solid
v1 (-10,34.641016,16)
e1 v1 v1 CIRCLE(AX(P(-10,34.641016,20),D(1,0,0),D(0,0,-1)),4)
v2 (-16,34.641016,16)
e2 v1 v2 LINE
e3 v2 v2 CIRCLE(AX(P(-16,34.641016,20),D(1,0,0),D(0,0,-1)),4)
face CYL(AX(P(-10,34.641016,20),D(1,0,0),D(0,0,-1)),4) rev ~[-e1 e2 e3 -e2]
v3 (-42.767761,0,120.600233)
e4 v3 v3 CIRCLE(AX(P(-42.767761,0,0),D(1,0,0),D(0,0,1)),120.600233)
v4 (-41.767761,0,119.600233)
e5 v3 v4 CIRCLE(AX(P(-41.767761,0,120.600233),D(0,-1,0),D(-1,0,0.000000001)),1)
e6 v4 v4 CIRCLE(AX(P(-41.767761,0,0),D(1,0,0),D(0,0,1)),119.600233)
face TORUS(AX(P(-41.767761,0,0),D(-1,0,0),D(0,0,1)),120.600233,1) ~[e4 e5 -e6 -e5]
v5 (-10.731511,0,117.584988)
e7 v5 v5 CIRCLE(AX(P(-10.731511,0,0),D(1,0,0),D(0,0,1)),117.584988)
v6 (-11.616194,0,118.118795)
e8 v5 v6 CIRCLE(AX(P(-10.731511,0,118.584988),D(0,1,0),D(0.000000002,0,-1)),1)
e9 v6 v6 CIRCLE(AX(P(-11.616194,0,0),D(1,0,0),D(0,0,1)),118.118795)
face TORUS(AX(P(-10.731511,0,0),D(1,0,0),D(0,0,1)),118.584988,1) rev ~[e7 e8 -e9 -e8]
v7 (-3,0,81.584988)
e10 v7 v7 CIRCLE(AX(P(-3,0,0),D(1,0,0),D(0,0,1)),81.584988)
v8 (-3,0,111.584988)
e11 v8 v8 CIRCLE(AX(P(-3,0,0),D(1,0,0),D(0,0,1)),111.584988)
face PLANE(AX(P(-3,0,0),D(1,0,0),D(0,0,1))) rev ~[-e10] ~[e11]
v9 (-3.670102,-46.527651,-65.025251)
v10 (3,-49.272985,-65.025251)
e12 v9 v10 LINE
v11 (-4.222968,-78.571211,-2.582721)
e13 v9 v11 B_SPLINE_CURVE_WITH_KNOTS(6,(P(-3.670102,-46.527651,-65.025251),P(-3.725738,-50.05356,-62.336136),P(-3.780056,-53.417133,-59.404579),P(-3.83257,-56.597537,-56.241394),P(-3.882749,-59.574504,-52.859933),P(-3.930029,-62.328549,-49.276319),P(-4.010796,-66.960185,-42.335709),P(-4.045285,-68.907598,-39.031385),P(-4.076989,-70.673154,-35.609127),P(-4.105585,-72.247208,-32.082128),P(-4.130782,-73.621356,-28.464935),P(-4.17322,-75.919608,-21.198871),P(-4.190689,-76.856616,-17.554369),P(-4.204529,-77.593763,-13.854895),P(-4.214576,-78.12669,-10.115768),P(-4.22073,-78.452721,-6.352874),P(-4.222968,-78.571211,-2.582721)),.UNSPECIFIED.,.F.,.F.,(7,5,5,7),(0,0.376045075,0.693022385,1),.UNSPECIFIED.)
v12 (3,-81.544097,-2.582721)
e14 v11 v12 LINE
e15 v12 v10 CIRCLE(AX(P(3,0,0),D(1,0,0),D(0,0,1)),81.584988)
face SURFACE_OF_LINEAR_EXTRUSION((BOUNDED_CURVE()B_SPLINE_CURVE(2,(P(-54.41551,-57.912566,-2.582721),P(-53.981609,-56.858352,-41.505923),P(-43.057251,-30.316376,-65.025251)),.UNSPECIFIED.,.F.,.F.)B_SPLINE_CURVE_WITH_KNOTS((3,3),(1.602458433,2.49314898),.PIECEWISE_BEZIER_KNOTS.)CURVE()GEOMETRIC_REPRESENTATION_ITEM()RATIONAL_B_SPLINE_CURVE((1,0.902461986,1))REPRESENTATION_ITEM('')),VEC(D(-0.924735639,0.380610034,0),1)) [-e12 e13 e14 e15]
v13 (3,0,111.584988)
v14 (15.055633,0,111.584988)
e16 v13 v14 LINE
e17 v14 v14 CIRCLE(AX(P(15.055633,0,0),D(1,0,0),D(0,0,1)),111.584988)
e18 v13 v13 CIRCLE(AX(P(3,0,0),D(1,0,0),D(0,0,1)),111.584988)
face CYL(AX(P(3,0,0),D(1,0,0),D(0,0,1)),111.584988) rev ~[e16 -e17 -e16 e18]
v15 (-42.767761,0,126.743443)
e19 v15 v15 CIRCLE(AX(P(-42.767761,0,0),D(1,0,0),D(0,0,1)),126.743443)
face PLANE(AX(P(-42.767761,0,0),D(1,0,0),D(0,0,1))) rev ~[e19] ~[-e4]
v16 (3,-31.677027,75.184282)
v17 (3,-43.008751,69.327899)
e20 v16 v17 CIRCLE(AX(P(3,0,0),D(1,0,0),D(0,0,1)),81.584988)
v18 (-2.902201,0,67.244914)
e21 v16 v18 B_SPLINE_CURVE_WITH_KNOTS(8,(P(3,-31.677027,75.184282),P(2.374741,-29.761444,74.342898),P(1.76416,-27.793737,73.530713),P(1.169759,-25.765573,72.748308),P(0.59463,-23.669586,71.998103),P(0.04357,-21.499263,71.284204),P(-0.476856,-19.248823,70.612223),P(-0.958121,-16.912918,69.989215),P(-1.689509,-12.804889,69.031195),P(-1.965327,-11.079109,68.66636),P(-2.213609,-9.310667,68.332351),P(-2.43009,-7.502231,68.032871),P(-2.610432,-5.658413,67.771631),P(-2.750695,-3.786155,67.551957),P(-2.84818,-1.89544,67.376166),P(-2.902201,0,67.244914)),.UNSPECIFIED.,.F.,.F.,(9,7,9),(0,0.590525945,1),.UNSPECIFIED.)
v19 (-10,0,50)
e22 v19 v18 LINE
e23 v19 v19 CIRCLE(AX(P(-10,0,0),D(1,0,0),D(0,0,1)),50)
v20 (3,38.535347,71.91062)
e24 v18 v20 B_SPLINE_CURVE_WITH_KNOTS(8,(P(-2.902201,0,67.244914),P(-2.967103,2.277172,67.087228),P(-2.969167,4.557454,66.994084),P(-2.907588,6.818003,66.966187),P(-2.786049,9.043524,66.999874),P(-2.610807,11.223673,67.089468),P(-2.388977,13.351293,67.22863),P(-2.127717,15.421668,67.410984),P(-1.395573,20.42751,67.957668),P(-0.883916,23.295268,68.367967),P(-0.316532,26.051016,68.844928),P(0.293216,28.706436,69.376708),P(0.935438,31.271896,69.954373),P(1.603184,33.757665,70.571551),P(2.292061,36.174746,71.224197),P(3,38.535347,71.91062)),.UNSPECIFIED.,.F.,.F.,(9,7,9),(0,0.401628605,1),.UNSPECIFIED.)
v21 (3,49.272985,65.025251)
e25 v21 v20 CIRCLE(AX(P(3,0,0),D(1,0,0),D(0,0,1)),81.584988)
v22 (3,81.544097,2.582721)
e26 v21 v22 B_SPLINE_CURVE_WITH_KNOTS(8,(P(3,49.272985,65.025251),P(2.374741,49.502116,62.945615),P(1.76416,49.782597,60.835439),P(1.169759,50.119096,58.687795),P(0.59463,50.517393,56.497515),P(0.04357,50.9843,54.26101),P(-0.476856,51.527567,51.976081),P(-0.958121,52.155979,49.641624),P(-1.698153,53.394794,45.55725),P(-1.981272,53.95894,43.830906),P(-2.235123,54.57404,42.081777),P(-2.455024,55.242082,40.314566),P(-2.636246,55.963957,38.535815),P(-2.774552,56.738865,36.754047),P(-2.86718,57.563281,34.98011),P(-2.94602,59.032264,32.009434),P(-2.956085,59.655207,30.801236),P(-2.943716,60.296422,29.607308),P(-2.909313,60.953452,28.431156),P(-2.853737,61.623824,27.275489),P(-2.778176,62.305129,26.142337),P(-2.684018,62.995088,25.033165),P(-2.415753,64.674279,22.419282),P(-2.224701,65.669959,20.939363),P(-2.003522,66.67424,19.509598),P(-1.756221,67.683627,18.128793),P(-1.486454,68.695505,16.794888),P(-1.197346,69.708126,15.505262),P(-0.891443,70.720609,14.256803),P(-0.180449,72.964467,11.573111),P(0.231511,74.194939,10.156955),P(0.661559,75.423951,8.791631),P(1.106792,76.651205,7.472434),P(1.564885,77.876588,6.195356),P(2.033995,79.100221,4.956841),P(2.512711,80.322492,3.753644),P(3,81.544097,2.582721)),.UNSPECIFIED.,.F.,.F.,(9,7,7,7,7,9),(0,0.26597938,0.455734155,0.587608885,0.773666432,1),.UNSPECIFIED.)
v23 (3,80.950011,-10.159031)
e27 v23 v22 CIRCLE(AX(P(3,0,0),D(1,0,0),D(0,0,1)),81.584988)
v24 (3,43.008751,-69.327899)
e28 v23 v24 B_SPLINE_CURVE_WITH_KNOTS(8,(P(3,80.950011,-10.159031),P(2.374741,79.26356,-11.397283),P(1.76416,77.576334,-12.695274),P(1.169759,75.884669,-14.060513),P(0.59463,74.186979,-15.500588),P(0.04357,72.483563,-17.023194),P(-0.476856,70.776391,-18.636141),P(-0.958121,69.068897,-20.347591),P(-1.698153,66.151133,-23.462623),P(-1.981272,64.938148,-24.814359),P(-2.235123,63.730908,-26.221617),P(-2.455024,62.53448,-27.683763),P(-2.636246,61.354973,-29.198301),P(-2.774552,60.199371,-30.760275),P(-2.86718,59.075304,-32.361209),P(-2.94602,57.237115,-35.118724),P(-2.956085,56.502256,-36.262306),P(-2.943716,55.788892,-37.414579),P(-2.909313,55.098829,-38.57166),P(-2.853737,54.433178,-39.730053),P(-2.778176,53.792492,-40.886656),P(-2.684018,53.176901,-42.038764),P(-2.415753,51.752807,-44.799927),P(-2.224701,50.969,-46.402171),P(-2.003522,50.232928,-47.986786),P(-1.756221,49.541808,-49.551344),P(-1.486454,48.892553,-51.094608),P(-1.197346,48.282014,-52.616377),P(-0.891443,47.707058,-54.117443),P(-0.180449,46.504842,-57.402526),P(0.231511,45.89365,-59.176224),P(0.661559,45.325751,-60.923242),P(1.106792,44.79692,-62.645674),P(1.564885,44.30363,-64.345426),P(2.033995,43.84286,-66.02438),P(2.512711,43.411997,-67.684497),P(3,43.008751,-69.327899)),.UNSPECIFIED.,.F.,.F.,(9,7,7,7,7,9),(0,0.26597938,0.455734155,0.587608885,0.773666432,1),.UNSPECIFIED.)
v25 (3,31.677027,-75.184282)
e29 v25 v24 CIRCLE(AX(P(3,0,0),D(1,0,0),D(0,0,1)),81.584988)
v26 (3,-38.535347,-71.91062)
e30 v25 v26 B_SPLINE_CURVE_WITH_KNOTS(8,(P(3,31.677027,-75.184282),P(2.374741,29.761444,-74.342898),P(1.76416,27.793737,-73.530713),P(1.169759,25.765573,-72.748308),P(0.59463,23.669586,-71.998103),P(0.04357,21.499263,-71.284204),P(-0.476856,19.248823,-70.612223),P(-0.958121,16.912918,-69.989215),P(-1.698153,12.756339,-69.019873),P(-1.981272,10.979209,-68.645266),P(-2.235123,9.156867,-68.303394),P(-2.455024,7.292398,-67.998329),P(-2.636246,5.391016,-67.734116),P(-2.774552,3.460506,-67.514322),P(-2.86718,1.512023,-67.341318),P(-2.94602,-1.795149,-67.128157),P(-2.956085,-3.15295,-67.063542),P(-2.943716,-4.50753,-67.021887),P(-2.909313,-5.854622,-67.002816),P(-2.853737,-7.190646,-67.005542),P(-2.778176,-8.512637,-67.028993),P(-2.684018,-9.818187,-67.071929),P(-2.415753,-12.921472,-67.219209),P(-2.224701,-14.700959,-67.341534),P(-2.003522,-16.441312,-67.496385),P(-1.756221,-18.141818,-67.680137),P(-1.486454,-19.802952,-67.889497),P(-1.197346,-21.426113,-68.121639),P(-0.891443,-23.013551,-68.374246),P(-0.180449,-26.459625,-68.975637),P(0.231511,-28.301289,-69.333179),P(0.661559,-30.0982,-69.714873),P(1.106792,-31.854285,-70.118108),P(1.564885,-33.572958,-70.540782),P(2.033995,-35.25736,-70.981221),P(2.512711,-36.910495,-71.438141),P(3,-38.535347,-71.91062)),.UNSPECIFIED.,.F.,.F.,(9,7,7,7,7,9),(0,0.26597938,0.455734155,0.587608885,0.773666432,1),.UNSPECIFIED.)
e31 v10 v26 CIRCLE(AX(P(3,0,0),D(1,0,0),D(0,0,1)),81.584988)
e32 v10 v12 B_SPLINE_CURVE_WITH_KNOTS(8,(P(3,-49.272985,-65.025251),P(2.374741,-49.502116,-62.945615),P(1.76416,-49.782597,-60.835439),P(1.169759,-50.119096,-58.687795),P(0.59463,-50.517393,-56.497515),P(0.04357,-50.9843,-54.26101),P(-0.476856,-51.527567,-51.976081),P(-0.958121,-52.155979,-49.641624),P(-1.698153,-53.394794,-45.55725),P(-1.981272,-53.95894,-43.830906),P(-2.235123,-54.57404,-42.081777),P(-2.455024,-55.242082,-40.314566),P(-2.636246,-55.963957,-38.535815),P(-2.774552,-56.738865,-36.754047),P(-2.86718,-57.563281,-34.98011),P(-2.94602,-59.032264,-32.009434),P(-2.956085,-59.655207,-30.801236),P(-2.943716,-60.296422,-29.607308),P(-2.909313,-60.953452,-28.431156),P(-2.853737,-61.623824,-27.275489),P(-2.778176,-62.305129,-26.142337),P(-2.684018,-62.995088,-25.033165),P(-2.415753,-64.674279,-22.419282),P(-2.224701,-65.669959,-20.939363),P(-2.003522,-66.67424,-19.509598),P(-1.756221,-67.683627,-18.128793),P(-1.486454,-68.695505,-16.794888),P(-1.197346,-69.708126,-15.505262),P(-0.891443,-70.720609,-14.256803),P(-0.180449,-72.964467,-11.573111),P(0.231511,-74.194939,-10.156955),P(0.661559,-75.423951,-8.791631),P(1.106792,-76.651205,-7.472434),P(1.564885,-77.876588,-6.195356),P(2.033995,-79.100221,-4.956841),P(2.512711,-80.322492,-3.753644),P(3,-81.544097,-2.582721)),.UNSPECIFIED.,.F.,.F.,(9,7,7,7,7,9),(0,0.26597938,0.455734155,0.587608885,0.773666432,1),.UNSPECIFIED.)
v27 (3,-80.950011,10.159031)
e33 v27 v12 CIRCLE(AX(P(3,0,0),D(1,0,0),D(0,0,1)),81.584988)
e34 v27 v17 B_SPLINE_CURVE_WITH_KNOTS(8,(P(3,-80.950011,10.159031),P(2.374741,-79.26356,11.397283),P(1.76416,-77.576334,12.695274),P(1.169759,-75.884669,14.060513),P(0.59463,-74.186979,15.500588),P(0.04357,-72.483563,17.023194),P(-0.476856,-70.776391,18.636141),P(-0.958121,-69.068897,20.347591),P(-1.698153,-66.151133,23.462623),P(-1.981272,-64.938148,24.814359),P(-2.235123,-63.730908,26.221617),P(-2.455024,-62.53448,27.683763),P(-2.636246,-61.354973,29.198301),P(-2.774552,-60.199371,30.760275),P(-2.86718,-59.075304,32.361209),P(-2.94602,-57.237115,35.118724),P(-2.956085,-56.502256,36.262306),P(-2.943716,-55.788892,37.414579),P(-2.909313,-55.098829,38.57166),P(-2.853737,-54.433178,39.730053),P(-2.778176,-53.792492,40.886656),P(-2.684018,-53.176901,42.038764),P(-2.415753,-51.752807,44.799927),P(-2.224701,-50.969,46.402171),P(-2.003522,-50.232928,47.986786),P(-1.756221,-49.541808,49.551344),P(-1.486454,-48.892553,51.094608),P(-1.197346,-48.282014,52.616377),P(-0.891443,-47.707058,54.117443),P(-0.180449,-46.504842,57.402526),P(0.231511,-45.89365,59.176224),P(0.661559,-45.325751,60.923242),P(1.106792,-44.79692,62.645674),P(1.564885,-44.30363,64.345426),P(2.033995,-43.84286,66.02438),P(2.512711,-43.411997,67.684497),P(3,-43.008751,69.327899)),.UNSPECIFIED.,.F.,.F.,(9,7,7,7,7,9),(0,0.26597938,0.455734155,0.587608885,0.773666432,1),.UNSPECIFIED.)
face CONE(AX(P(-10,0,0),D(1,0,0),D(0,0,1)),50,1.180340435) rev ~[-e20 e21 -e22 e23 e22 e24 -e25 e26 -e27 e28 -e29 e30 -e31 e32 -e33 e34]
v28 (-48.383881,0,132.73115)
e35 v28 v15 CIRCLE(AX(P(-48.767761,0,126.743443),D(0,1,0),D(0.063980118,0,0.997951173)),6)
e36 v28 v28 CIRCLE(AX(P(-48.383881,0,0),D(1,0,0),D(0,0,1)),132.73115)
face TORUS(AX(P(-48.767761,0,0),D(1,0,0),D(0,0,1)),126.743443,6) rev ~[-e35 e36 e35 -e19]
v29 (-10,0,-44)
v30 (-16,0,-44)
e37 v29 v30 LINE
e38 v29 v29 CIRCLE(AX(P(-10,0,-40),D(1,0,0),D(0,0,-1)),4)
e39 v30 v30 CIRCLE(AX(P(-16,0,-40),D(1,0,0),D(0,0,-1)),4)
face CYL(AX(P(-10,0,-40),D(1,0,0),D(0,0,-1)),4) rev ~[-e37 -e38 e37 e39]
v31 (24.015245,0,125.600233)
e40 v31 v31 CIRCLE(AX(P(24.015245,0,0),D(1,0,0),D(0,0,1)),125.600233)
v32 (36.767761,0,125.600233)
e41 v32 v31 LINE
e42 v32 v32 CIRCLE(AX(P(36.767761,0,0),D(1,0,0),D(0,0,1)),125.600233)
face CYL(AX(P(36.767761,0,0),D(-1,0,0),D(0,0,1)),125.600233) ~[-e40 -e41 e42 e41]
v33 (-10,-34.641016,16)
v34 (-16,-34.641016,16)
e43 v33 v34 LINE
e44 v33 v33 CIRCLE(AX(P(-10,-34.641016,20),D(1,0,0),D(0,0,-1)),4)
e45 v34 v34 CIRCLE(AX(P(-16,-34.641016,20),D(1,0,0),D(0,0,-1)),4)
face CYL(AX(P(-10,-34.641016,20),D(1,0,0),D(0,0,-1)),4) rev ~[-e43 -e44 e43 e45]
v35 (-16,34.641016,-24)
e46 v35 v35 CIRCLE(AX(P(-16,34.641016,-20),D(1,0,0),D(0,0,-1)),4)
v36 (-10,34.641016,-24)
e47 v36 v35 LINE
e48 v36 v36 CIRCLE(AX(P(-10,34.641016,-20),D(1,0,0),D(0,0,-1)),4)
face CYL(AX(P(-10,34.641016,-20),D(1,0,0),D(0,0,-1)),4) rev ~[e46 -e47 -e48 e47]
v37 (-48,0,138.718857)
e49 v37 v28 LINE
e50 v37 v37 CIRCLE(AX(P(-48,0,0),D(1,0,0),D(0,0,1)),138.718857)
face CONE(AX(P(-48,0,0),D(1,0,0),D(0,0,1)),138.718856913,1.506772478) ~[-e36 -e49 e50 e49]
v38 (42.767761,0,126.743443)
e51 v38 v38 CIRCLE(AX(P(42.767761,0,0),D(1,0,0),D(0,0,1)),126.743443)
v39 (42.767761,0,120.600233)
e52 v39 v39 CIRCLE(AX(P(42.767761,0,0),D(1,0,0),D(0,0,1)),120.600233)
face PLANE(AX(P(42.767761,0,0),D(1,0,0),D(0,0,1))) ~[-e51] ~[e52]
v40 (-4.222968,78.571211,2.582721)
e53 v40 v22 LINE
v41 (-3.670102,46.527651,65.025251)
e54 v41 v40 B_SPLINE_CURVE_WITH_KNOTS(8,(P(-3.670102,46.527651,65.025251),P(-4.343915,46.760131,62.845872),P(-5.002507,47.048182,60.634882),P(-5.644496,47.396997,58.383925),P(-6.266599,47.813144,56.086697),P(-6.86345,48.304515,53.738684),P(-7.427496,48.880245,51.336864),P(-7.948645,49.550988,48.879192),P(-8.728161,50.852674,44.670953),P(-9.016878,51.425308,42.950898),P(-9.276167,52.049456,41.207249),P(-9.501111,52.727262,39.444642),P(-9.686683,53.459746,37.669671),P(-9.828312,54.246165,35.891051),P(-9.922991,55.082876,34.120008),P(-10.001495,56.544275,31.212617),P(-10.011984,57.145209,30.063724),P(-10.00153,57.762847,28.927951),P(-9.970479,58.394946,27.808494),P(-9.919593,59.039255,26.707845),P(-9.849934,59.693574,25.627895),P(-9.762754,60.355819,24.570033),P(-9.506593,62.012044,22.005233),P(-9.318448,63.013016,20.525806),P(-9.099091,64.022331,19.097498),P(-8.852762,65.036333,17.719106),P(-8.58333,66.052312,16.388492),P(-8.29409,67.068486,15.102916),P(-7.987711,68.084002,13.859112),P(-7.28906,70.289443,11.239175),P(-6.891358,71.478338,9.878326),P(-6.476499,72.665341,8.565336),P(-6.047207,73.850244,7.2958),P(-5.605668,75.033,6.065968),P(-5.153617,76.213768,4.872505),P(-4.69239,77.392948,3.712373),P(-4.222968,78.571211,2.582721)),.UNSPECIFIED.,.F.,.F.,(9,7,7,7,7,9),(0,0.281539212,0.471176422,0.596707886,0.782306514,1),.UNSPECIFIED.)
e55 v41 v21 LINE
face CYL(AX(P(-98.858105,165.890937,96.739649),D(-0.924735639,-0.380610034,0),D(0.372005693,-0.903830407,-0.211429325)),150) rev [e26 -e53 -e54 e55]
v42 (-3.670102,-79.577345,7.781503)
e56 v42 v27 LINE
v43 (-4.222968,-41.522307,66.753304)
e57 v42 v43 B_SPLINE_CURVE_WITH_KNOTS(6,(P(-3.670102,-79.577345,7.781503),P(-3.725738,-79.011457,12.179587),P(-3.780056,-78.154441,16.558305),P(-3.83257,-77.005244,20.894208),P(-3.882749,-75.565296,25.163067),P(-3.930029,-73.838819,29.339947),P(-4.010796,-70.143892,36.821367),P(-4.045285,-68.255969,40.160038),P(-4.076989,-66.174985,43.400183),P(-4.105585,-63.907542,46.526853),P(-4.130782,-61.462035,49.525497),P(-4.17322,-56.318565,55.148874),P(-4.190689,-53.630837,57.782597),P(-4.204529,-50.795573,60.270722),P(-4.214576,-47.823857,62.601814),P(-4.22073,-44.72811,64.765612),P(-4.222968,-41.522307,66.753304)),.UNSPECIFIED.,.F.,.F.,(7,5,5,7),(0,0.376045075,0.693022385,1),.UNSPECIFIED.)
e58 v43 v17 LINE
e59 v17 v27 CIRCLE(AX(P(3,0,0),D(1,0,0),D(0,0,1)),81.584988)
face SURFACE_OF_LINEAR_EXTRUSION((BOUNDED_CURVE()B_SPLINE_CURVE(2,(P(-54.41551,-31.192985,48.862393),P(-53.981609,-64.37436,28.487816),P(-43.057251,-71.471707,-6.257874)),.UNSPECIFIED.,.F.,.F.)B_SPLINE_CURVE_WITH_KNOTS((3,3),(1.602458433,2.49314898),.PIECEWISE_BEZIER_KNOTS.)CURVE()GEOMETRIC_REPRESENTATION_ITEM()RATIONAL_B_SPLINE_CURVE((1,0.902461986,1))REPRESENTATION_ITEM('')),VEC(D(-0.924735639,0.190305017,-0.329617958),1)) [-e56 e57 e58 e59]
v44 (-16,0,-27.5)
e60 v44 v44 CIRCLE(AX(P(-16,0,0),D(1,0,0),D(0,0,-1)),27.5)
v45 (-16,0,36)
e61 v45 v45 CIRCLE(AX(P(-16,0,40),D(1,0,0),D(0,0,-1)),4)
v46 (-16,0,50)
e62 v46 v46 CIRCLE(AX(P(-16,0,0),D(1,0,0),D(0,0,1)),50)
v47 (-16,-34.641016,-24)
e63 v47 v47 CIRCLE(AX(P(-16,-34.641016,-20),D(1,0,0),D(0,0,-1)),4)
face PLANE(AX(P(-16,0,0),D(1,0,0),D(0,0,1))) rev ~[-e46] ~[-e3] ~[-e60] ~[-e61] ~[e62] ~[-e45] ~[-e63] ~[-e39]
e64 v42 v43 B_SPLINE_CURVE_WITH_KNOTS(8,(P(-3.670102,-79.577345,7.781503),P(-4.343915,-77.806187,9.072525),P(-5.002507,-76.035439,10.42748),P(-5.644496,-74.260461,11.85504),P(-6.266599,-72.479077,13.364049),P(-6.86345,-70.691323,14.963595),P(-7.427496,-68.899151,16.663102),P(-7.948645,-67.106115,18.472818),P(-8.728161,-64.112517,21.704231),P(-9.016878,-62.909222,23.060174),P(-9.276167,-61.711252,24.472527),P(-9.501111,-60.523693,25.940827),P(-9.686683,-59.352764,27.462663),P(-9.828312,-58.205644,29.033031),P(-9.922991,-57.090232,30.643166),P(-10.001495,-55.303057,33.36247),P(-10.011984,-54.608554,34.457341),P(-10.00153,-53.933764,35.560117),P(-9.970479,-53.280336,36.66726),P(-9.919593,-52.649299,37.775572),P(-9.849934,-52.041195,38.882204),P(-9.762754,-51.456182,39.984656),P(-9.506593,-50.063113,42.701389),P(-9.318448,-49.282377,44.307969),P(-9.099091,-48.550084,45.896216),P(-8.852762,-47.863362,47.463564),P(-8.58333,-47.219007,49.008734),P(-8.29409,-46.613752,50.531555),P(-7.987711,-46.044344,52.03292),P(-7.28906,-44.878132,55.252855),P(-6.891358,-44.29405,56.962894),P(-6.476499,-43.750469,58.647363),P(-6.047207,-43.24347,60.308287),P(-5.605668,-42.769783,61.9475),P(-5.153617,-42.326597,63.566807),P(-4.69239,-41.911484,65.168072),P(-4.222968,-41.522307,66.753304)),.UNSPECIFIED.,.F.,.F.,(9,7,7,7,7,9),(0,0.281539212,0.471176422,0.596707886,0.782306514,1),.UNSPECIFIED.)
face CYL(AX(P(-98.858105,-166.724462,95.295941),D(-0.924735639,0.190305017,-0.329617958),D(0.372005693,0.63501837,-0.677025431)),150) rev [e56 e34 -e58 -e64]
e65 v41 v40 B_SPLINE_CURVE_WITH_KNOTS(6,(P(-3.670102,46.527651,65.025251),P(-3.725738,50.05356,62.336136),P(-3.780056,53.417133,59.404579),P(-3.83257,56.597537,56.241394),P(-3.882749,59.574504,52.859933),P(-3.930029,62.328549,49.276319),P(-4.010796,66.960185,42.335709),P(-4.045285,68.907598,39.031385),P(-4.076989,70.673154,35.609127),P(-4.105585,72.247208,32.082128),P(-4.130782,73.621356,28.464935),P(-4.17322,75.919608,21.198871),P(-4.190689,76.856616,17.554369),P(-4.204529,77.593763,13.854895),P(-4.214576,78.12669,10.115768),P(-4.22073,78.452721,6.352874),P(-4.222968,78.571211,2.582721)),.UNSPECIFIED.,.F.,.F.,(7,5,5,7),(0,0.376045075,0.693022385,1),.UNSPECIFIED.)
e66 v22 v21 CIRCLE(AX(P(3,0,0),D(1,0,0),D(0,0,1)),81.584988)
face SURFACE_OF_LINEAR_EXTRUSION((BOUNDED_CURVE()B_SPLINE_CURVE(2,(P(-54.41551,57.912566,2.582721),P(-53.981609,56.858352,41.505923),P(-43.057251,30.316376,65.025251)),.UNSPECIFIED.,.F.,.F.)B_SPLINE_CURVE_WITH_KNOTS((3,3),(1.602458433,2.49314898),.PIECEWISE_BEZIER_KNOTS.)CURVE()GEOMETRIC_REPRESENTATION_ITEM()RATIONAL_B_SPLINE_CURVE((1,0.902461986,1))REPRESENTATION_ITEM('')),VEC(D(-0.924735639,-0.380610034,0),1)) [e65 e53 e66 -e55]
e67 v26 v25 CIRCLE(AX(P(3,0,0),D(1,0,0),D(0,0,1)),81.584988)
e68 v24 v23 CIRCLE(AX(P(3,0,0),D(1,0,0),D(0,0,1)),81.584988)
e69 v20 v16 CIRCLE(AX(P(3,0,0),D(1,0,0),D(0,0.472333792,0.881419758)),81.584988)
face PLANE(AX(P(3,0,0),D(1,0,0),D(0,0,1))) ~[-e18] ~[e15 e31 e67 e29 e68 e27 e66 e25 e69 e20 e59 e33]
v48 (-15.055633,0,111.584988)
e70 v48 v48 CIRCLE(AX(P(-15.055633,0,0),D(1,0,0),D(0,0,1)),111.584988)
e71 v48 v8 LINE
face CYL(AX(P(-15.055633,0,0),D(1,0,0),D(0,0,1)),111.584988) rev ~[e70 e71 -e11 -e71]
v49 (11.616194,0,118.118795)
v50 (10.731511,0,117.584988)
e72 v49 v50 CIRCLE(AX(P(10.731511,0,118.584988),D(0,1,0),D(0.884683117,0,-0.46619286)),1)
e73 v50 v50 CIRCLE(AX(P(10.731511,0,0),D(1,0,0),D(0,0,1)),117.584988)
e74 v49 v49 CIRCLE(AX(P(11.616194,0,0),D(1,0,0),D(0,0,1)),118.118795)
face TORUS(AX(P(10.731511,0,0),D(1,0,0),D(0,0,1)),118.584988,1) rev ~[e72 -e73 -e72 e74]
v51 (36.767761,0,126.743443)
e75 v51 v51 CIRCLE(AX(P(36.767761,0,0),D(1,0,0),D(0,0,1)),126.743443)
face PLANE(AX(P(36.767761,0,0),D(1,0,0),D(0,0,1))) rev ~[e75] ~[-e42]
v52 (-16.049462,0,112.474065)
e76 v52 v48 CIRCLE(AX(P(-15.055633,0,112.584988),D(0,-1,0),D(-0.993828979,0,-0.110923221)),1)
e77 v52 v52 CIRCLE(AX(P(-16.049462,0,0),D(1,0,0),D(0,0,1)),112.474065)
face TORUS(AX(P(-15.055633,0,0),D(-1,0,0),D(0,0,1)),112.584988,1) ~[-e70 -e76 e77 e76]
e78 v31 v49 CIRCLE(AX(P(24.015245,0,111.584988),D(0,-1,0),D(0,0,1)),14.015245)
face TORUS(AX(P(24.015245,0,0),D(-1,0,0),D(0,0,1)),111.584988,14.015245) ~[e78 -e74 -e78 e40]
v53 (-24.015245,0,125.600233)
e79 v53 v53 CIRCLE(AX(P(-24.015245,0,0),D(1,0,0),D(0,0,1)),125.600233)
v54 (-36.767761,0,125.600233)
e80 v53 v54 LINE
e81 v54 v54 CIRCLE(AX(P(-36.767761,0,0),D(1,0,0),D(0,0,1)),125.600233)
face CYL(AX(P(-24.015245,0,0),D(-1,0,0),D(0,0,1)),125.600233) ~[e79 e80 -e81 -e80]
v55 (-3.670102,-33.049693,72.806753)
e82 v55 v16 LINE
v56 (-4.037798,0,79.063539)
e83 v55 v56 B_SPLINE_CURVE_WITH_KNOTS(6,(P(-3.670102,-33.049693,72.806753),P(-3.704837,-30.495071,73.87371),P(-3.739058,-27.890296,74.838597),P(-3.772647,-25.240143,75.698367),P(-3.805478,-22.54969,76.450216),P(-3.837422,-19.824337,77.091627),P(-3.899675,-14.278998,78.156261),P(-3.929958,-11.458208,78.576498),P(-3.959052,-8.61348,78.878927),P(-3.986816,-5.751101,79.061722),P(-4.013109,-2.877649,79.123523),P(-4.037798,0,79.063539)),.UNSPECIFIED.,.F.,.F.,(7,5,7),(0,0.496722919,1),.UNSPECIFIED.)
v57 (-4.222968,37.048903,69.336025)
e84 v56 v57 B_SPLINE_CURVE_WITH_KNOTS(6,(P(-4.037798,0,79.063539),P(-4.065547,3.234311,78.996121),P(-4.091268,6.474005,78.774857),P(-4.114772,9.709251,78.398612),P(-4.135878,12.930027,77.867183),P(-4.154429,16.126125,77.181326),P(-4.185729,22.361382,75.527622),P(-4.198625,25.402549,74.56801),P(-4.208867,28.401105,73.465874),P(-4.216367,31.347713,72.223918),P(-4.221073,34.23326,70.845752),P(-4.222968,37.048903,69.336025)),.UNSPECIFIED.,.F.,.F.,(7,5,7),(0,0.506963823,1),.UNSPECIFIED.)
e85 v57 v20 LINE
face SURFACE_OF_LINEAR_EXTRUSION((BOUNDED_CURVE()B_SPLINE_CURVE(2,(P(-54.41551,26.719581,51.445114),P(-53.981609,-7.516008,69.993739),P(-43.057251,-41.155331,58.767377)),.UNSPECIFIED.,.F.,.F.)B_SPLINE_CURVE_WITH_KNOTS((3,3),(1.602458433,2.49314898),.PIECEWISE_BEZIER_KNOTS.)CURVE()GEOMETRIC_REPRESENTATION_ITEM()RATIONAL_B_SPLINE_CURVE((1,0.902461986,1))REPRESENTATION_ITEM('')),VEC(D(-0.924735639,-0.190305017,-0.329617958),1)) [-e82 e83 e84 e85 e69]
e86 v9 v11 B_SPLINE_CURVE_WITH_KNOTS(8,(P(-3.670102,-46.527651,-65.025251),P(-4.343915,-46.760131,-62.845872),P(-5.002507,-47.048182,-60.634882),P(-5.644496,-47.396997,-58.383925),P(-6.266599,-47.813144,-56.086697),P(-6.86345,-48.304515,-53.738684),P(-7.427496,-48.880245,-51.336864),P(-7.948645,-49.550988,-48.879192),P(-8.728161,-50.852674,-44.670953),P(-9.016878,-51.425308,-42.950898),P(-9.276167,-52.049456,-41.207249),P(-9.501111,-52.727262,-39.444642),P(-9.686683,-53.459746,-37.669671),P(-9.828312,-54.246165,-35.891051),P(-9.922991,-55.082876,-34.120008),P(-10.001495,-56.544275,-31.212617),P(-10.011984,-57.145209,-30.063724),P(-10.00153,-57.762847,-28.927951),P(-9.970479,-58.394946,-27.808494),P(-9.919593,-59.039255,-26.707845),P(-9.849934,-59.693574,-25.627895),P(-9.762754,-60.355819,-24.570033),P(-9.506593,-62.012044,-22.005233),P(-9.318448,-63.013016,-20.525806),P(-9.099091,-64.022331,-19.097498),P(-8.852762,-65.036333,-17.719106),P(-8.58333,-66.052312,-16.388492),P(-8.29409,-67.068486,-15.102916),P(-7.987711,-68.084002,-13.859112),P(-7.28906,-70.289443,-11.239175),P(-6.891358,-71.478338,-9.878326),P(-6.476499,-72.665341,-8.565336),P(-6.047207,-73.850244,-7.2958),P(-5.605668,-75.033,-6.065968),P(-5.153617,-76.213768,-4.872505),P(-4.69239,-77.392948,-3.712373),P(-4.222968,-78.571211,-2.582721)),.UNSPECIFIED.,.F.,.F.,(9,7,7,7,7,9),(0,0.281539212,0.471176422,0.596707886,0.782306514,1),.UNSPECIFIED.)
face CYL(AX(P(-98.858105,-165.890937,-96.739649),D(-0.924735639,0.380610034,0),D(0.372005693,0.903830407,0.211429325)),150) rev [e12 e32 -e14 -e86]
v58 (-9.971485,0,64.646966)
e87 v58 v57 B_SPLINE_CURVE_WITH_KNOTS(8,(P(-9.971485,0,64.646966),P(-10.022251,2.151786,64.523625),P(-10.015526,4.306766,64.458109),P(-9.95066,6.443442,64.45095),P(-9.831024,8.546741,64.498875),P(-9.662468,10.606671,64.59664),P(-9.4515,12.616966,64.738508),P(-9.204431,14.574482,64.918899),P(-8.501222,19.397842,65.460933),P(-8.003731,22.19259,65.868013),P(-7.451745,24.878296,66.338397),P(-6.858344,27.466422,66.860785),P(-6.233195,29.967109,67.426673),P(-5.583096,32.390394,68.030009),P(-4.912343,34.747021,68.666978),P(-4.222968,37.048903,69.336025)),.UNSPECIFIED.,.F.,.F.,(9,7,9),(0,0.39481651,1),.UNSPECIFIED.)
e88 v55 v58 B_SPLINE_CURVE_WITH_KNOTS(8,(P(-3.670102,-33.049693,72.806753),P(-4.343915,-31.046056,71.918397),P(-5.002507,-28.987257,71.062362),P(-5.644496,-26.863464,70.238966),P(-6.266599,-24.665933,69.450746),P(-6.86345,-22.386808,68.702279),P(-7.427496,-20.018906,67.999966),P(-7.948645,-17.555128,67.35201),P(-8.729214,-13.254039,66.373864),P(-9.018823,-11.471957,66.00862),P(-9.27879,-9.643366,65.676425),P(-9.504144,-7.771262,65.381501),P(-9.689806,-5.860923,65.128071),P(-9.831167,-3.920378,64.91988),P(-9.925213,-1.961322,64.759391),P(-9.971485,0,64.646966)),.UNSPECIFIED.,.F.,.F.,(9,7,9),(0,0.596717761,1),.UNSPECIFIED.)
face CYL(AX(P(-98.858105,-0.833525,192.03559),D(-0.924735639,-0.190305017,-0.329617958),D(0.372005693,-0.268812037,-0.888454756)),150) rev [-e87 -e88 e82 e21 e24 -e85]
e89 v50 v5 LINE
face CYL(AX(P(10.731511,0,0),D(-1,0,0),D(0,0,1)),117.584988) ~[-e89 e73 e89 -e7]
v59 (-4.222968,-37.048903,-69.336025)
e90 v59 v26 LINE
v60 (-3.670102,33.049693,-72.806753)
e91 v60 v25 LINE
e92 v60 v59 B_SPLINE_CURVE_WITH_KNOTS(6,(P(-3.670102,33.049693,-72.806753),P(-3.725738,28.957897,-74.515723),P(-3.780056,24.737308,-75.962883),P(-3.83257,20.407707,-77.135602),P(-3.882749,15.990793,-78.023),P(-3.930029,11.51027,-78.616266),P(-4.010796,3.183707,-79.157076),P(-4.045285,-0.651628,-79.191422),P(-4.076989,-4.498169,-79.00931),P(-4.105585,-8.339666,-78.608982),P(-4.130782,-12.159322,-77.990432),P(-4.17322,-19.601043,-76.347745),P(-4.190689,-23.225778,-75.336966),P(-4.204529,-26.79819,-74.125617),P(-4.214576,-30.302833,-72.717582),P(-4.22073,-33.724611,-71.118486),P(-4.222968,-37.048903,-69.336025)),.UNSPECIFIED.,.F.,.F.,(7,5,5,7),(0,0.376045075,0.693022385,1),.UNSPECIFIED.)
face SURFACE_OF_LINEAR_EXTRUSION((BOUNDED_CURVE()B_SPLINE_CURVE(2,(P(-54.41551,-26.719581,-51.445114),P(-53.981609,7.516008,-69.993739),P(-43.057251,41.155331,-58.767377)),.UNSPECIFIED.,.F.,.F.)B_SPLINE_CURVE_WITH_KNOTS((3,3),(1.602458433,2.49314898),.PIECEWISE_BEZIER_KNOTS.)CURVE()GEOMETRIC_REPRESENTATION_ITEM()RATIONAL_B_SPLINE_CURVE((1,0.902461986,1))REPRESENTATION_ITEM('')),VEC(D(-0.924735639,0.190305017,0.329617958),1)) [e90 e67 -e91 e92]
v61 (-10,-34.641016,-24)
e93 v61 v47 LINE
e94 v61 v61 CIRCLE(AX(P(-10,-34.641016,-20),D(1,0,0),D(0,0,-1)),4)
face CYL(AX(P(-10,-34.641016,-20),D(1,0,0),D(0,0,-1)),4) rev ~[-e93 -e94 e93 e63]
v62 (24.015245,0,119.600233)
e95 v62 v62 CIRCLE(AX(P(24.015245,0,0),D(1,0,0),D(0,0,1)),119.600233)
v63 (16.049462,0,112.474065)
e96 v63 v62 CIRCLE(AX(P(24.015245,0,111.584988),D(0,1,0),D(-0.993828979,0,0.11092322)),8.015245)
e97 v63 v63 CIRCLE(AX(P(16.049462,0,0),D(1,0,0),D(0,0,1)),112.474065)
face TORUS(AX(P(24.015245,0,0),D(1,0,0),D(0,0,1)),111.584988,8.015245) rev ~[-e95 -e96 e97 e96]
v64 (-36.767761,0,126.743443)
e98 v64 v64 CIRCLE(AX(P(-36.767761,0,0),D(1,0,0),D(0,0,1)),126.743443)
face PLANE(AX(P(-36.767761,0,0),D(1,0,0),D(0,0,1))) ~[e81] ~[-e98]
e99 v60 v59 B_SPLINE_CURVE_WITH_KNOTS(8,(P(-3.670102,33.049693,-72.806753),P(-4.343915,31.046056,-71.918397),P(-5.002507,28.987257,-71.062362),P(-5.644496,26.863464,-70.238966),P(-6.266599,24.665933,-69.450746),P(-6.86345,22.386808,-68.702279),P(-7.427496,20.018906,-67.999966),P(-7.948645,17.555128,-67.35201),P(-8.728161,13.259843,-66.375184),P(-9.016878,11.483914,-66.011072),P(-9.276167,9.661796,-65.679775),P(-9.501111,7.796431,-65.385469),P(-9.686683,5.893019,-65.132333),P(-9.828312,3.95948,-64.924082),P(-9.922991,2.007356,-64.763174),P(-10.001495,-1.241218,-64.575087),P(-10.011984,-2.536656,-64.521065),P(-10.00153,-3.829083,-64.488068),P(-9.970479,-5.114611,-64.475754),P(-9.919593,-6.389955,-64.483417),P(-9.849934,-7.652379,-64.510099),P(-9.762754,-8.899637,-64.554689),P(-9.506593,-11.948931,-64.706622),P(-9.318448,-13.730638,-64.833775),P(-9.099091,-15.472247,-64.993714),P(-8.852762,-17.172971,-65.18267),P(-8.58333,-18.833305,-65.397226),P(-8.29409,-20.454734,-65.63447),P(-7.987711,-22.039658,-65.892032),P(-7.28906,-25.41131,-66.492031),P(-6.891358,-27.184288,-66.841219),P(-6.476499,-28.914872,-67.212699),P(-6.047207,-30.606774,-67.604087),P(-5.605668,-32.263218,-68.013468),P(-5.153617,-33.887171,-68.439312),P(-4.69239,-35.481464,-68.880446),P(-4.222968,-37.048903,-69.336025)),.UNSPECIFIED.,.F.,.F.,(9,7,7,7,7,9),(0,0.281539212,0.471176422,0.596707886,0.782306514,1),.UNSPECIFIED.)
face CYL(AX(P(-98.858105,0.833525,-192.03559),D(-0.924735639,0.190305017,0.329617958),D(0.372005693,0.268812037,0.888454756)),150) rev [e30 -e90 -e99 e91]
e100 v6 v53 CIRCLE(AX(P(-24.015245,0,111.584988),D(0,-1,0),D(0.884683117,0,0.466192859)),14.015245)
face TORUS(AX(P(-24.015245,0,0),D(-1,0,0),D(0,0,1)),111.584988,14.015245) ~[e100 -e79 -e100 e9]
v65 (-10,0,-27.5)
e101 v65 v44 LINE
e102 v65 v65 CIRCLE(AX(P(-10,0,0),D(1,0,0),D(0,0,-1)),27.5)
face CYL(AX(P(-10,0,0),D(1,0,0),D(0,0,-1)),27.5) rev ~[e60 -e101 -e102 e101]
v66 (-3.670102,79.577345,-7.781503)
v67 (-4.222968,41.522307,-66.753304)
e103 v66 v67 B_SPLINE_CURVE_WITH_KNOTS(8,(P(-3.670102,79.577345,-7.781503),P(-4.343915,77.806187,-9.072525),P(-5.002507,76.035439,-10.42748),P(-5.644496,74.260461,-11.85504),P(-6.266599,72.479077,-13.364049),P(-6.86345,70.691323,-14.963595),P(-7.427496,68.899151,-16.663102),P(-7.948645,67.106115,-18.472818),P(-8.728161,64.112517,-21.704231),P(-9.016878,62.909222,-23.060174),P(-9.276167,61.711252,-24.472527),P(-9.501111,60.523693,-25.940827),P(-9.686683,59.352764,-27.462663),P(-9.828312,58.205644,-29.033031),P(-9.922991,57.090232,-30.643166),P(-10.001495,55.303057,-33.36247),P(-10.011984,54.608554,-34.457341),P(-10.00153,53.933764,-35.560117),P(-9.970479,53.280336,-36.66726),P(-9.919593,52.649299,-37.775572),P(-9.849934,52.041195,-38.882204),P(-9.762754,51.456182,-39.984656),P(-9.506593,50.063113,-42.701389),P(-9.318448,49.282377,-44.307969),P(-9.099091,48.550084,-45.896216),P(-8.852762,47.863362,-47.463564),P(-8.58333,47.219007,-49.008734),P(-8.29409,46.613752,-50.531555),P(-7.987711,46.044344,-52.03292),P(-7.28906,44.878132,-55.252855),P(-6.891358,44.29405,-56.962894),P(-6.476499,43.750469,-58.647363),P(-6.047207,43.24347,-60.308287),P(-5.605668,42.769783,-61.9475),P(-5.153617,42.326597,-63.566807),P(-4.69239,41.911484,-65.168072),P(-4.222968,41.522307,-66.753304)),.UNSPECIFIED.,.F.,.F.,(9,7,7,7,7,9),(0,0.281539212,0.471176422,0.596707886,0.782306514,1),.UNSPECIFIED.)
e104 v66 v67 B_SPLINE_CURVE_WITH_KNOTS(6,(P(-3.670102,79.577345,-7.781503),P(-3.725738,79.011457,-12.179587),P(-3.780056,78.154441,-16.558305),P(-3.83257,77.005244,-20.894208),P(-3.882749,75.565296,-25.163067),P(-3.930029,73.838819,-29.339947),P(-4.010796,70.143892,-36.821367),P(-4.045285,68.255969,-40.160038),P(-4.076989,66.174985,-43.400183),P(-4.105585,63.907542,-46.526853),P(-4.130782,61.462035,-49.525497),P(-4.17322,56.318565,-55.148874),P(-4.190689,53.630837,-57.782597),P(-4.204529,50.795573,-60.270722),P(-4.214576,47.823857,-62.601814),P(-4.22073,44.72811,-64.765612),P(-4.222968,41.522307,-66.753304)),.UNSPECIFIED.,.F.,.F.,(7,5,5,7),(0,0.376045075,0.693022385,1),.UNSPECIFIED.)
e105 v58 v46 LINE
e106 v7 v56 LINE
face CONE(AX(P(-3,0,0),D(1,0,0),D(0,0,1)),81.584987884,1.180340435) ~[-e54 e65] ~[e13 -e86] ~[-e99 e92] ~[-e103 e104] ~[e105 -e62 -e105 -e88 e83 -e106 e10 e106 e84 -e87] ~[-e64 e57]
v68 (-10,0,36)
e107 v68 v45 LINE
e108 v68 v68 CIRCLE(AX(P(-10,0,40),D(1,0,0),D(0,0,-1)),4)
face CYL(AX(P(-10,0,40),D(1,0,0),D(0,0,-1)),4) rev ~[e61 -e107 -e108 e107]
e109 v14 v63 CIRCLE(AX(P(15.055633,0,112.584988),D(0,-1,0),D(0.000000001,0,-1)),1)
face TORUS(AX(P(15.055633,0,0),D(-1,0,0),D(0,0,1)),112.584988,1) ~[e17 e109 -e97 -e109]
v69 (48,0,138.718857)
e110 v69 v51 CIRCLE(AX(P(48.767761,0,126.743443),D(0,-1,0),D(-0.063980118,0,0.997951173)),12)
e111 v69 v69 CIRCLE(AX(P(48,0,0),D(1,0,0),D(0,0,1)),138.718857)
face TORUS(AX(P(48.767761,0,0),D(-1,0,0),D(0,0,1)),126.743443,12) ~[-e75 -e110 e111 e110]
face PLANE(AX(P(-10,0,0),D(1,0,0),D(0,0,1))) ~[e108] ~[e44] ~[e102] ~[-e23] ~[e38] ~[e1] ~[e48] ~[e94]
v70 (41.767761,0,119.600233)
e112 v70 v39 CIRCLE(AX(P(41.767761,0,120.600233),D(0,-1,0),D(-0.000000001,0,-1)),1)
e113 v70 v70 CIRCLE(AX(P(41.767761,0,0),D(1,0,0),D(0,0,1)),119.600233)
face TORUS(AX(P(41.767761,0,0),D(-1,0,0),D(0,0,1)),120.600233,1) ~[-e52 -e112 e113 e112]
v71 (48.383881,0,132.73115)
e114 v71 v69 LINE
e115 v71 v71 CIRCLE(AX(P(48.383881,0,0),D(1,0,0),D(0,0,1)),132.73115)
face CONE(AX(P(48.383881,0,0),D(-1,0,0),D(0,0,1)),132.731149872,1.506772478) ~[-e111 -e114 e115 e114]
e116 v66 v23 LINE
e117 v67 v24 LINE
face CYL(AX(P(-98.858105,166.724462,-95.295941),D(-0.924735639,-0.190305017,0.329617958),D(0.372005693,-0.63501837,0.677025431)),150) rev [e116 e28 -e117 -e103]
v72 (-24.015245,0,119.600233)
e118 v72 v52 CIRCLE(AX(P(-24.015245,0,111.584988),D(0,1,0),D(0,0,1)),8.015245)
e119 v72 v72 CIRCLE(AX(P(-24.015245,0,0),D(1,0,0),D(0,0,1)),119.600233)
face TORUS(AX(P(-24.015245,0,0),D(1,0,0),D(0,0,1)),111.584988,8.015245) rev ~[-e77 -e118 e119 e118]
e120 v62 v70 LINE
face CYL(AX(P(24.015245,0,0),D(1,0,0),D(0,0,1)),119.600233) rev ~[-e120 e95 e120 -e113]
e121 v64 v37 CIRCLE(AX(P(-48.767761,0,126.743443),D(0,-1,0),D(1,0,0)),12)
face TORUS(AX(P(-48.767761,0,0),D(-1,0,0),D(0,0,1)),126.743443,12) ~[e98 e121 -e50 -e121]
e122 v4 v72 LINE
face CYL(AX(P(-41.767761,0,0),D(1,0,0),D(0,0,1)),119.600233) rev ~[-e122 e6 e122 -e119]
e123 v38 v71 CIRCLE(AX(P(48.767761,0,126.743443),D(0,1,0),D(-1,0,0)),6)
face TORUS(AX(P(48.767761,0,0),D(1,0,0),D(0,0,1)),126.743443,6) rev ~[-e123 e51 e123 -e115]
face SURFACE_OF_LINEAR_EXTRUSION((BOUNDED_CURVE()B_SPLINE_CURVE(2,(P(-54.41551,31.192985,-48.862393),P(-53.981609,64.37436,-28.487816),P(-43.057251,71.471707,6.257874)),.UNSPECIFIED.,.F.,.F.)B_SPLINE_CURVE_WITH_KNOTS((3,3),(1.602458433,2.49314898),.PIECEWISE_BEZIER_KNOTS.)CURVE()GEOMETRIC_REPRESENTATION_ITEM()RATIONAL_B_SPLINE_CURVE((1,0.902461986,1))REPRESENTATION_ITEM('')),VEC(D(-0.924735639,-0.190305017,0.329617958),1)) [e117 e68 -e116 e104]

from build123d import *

# Parameters (mm, degrees)
SKETCH2_R          = 27.5
SKETCH2_R_2        = 4
CUT_EXTRUDE1_DEPTH = 205.68150882
CUT_EXTRUDE3_DEPTH = 218.124225294
CIRPATTERN1_COUNT  = 6


with BuildPart() as part:
    # Sketch1 → Revolve1 (revolve)
    with BuildSketch(Plane.XY, mode=Mode.PRIVATE) as revolve1_sk:
        with BuildLine():
            Line((-15.055633267, 111.584987884), (-3, 111.584987884))
            Line((-3, 111.584987884), (-3, 81.584987884))
            Line((-3, 81.584987884), (-16, 50))
            Line((-16, 50), (-16, 0))
            Line((-16, 0), (-10, 0))
            Line((-10, 0), (-10, 50))
            Line((-10, 50), (3, 81.584987884))
            Line((3, 81.584987884), (3, 111.584987884))
            Line((3, 111.584987884), (15.055633267, 111.584987884))
            ThreePointArc((15.055633267, 111.584987884), (15.722370389, 111.839694915), (16.049462246, 112.474064664))
            ThreePointArc((16.049462246, 112.474064664), (18.671183612, 117.558693622), (24.015244992, 119.600232876))
            Line((24.015244992, 119.600232876), (41.767761414, 119.600232876))
            ThreePointArc((41.767761414, 119.600232876), (42.474868196, 119.893126095), (42.767761414, 120.600232876))
            Line((42.767761414, 120.600232876), (42.767761414, 126.743442832))
            ThreePointArc((42.767761414, 126.743442832), (44.391502496, 130.848117956), (48.383880707, 132.731149872))
            Line((48.383880707, 132.731149872), (48, 138.718856913))
            ThreePointArc((48, 138.718856913), (40.015243577, 134.952793081), (36.767761414, 126.743442832))
            Line((36.767761414, 126.743442832), (36.767761414, 125.600232876))
            Line((36.767761414, 125.600232876), (24.015244992, 125.600232876))
            ThreePointArc((24.015244992, 125.600232876), (16.774589484, 123.584987884), (11.616194366, 118.118795024))
            ThreePointArc((11.616194366, 118.118795024), (11.248138358, 117.728777378), (10.731511248, 117.584987884))
            Line((10.731511248, 117.584987884), (-10.731511248, 117.584987884))
            ThreePointArc((-10.731511248, 117.584987884), (-11.248138358, 117.728777378), (-11.616194366, 118.118795024))
            ThreePointArc((-11.616194366, 118.118795024), (-16.774589484, 123.584987884), (-24.015244992, 125.600232876))
            Line((-24.015244992, 125.600232876), (-36.767761414, 125.600232876))
            Line((-36.767761414, 125.600232876), (-36.767761414, 126.743442832))
            ThreePointArc((-36.767761414, 126.743442832), (-40.015243577, 134.952793081), (-48, 138.718856913))
            Line((-48, 138.718856913), (-48.383880707, 132.731149872))
            ThreePointArc((-48.383880707, 132.731149872), (-44.391502496, 130.848117956), (-42.767761414, 126.743442832))
            Line((-42.767761414, 126.743442832), (-42.767761414, 120.600232876))
            ThreePointArc((-42.767761414, 120.600232876), (-42.474868196, 119.893126095), (-41.767761414, 119.600232876))
            Line((-41.767761414, 119.600232876), (-24.015244992, 119.600232876))
            ThreePointArc((-24.015244992, 119.600232876), (-18.671183612, 117.558693622), (-16.049462246, 112.474064664))
            ThreePointArc((-16.049462246, 112.474064664), (-15.722370389, 111.839694915), (-15.055633267, 111.584987884))
        make_face()
    revolve(revolve1_sk.sketch.rotate(Axis((0, 0, 0), (1, 0, 0)), 90), axis=Axis((0, 0, 0), (1, 0, 0)))

    # Sketch2 → Cut-Extrude1 (cut, through all)
    with BuildSketch(Plane(origin=(-10, 0, 0), x_dir=(0, 0, -1), z_dir=(1, 0, 0))):
        Circle(SKETCH2_R)
        with Locations((20, 34.641016151)):
            Circle(SKETCH2_R_2)
        with Locations((40, 0)):
            Circle(SKETCH2_R_2)
        with Locations((20, -34.641016151)):
            Circle(SKETCH2_R_2)
        with Locations((-20, -34.641016151)):
            Circle(SKETCH2_R_2)
        with Locations((-40, 0)):
            Circle(SKETCH2_R_2)
        with Locations((-20, 34.641016151)):
            Circle(SKETCH2_R_2)
    extrude(amount=-CUT_EXTRUDE1_DEPTH, mode=Mode.SUBTRACT)

    # Sketch3 → Cut-Extrude3 (cut, through all)
    with BuildSketch(Plane(origin=(-26.149543165, -10.762836522, 0), x_dir=(0, 0, -1), z_dir=(0.9247356390520342, 0.38061003384964265, 0))):
        with BuildLine():
            ThreePointArc((-65.025250644, 44.422654944), (-32.059376581, 55.693322861), (-2.582720962, 74.264902803))
            add(Edge.make_bspline(
                [(-2.582720962, 74.264902803), (-41.505923005, 73.124886363), (-65.025250644, 44.422654944)],
                knots=[1.602458433, 1.602458433, 1.602458433, 2.49314898, 2.49314898, 2.49314898], degree=2, weights=[1, 0.902461986, 1]))
        make_face()
    cut_extrude3 = extrude(amount=CUT_EXTRUDE3_DEPTH, mode=Mode.SUBTRACT)

    # CirPattern1: Cut-Extrude3 ×6 about axis
    cirpattern1_axis = Axis((-10, 0, 0), (1, 0, 0))
    for i in range(1, CIRPATTERN1_COUNT):
        add(cut_extrude3.rotate(cirpattern1_axis, i * 360 / CIRPATTERN1_COUNT), mode=Mode.SUBTRACT)


solid = part.part
